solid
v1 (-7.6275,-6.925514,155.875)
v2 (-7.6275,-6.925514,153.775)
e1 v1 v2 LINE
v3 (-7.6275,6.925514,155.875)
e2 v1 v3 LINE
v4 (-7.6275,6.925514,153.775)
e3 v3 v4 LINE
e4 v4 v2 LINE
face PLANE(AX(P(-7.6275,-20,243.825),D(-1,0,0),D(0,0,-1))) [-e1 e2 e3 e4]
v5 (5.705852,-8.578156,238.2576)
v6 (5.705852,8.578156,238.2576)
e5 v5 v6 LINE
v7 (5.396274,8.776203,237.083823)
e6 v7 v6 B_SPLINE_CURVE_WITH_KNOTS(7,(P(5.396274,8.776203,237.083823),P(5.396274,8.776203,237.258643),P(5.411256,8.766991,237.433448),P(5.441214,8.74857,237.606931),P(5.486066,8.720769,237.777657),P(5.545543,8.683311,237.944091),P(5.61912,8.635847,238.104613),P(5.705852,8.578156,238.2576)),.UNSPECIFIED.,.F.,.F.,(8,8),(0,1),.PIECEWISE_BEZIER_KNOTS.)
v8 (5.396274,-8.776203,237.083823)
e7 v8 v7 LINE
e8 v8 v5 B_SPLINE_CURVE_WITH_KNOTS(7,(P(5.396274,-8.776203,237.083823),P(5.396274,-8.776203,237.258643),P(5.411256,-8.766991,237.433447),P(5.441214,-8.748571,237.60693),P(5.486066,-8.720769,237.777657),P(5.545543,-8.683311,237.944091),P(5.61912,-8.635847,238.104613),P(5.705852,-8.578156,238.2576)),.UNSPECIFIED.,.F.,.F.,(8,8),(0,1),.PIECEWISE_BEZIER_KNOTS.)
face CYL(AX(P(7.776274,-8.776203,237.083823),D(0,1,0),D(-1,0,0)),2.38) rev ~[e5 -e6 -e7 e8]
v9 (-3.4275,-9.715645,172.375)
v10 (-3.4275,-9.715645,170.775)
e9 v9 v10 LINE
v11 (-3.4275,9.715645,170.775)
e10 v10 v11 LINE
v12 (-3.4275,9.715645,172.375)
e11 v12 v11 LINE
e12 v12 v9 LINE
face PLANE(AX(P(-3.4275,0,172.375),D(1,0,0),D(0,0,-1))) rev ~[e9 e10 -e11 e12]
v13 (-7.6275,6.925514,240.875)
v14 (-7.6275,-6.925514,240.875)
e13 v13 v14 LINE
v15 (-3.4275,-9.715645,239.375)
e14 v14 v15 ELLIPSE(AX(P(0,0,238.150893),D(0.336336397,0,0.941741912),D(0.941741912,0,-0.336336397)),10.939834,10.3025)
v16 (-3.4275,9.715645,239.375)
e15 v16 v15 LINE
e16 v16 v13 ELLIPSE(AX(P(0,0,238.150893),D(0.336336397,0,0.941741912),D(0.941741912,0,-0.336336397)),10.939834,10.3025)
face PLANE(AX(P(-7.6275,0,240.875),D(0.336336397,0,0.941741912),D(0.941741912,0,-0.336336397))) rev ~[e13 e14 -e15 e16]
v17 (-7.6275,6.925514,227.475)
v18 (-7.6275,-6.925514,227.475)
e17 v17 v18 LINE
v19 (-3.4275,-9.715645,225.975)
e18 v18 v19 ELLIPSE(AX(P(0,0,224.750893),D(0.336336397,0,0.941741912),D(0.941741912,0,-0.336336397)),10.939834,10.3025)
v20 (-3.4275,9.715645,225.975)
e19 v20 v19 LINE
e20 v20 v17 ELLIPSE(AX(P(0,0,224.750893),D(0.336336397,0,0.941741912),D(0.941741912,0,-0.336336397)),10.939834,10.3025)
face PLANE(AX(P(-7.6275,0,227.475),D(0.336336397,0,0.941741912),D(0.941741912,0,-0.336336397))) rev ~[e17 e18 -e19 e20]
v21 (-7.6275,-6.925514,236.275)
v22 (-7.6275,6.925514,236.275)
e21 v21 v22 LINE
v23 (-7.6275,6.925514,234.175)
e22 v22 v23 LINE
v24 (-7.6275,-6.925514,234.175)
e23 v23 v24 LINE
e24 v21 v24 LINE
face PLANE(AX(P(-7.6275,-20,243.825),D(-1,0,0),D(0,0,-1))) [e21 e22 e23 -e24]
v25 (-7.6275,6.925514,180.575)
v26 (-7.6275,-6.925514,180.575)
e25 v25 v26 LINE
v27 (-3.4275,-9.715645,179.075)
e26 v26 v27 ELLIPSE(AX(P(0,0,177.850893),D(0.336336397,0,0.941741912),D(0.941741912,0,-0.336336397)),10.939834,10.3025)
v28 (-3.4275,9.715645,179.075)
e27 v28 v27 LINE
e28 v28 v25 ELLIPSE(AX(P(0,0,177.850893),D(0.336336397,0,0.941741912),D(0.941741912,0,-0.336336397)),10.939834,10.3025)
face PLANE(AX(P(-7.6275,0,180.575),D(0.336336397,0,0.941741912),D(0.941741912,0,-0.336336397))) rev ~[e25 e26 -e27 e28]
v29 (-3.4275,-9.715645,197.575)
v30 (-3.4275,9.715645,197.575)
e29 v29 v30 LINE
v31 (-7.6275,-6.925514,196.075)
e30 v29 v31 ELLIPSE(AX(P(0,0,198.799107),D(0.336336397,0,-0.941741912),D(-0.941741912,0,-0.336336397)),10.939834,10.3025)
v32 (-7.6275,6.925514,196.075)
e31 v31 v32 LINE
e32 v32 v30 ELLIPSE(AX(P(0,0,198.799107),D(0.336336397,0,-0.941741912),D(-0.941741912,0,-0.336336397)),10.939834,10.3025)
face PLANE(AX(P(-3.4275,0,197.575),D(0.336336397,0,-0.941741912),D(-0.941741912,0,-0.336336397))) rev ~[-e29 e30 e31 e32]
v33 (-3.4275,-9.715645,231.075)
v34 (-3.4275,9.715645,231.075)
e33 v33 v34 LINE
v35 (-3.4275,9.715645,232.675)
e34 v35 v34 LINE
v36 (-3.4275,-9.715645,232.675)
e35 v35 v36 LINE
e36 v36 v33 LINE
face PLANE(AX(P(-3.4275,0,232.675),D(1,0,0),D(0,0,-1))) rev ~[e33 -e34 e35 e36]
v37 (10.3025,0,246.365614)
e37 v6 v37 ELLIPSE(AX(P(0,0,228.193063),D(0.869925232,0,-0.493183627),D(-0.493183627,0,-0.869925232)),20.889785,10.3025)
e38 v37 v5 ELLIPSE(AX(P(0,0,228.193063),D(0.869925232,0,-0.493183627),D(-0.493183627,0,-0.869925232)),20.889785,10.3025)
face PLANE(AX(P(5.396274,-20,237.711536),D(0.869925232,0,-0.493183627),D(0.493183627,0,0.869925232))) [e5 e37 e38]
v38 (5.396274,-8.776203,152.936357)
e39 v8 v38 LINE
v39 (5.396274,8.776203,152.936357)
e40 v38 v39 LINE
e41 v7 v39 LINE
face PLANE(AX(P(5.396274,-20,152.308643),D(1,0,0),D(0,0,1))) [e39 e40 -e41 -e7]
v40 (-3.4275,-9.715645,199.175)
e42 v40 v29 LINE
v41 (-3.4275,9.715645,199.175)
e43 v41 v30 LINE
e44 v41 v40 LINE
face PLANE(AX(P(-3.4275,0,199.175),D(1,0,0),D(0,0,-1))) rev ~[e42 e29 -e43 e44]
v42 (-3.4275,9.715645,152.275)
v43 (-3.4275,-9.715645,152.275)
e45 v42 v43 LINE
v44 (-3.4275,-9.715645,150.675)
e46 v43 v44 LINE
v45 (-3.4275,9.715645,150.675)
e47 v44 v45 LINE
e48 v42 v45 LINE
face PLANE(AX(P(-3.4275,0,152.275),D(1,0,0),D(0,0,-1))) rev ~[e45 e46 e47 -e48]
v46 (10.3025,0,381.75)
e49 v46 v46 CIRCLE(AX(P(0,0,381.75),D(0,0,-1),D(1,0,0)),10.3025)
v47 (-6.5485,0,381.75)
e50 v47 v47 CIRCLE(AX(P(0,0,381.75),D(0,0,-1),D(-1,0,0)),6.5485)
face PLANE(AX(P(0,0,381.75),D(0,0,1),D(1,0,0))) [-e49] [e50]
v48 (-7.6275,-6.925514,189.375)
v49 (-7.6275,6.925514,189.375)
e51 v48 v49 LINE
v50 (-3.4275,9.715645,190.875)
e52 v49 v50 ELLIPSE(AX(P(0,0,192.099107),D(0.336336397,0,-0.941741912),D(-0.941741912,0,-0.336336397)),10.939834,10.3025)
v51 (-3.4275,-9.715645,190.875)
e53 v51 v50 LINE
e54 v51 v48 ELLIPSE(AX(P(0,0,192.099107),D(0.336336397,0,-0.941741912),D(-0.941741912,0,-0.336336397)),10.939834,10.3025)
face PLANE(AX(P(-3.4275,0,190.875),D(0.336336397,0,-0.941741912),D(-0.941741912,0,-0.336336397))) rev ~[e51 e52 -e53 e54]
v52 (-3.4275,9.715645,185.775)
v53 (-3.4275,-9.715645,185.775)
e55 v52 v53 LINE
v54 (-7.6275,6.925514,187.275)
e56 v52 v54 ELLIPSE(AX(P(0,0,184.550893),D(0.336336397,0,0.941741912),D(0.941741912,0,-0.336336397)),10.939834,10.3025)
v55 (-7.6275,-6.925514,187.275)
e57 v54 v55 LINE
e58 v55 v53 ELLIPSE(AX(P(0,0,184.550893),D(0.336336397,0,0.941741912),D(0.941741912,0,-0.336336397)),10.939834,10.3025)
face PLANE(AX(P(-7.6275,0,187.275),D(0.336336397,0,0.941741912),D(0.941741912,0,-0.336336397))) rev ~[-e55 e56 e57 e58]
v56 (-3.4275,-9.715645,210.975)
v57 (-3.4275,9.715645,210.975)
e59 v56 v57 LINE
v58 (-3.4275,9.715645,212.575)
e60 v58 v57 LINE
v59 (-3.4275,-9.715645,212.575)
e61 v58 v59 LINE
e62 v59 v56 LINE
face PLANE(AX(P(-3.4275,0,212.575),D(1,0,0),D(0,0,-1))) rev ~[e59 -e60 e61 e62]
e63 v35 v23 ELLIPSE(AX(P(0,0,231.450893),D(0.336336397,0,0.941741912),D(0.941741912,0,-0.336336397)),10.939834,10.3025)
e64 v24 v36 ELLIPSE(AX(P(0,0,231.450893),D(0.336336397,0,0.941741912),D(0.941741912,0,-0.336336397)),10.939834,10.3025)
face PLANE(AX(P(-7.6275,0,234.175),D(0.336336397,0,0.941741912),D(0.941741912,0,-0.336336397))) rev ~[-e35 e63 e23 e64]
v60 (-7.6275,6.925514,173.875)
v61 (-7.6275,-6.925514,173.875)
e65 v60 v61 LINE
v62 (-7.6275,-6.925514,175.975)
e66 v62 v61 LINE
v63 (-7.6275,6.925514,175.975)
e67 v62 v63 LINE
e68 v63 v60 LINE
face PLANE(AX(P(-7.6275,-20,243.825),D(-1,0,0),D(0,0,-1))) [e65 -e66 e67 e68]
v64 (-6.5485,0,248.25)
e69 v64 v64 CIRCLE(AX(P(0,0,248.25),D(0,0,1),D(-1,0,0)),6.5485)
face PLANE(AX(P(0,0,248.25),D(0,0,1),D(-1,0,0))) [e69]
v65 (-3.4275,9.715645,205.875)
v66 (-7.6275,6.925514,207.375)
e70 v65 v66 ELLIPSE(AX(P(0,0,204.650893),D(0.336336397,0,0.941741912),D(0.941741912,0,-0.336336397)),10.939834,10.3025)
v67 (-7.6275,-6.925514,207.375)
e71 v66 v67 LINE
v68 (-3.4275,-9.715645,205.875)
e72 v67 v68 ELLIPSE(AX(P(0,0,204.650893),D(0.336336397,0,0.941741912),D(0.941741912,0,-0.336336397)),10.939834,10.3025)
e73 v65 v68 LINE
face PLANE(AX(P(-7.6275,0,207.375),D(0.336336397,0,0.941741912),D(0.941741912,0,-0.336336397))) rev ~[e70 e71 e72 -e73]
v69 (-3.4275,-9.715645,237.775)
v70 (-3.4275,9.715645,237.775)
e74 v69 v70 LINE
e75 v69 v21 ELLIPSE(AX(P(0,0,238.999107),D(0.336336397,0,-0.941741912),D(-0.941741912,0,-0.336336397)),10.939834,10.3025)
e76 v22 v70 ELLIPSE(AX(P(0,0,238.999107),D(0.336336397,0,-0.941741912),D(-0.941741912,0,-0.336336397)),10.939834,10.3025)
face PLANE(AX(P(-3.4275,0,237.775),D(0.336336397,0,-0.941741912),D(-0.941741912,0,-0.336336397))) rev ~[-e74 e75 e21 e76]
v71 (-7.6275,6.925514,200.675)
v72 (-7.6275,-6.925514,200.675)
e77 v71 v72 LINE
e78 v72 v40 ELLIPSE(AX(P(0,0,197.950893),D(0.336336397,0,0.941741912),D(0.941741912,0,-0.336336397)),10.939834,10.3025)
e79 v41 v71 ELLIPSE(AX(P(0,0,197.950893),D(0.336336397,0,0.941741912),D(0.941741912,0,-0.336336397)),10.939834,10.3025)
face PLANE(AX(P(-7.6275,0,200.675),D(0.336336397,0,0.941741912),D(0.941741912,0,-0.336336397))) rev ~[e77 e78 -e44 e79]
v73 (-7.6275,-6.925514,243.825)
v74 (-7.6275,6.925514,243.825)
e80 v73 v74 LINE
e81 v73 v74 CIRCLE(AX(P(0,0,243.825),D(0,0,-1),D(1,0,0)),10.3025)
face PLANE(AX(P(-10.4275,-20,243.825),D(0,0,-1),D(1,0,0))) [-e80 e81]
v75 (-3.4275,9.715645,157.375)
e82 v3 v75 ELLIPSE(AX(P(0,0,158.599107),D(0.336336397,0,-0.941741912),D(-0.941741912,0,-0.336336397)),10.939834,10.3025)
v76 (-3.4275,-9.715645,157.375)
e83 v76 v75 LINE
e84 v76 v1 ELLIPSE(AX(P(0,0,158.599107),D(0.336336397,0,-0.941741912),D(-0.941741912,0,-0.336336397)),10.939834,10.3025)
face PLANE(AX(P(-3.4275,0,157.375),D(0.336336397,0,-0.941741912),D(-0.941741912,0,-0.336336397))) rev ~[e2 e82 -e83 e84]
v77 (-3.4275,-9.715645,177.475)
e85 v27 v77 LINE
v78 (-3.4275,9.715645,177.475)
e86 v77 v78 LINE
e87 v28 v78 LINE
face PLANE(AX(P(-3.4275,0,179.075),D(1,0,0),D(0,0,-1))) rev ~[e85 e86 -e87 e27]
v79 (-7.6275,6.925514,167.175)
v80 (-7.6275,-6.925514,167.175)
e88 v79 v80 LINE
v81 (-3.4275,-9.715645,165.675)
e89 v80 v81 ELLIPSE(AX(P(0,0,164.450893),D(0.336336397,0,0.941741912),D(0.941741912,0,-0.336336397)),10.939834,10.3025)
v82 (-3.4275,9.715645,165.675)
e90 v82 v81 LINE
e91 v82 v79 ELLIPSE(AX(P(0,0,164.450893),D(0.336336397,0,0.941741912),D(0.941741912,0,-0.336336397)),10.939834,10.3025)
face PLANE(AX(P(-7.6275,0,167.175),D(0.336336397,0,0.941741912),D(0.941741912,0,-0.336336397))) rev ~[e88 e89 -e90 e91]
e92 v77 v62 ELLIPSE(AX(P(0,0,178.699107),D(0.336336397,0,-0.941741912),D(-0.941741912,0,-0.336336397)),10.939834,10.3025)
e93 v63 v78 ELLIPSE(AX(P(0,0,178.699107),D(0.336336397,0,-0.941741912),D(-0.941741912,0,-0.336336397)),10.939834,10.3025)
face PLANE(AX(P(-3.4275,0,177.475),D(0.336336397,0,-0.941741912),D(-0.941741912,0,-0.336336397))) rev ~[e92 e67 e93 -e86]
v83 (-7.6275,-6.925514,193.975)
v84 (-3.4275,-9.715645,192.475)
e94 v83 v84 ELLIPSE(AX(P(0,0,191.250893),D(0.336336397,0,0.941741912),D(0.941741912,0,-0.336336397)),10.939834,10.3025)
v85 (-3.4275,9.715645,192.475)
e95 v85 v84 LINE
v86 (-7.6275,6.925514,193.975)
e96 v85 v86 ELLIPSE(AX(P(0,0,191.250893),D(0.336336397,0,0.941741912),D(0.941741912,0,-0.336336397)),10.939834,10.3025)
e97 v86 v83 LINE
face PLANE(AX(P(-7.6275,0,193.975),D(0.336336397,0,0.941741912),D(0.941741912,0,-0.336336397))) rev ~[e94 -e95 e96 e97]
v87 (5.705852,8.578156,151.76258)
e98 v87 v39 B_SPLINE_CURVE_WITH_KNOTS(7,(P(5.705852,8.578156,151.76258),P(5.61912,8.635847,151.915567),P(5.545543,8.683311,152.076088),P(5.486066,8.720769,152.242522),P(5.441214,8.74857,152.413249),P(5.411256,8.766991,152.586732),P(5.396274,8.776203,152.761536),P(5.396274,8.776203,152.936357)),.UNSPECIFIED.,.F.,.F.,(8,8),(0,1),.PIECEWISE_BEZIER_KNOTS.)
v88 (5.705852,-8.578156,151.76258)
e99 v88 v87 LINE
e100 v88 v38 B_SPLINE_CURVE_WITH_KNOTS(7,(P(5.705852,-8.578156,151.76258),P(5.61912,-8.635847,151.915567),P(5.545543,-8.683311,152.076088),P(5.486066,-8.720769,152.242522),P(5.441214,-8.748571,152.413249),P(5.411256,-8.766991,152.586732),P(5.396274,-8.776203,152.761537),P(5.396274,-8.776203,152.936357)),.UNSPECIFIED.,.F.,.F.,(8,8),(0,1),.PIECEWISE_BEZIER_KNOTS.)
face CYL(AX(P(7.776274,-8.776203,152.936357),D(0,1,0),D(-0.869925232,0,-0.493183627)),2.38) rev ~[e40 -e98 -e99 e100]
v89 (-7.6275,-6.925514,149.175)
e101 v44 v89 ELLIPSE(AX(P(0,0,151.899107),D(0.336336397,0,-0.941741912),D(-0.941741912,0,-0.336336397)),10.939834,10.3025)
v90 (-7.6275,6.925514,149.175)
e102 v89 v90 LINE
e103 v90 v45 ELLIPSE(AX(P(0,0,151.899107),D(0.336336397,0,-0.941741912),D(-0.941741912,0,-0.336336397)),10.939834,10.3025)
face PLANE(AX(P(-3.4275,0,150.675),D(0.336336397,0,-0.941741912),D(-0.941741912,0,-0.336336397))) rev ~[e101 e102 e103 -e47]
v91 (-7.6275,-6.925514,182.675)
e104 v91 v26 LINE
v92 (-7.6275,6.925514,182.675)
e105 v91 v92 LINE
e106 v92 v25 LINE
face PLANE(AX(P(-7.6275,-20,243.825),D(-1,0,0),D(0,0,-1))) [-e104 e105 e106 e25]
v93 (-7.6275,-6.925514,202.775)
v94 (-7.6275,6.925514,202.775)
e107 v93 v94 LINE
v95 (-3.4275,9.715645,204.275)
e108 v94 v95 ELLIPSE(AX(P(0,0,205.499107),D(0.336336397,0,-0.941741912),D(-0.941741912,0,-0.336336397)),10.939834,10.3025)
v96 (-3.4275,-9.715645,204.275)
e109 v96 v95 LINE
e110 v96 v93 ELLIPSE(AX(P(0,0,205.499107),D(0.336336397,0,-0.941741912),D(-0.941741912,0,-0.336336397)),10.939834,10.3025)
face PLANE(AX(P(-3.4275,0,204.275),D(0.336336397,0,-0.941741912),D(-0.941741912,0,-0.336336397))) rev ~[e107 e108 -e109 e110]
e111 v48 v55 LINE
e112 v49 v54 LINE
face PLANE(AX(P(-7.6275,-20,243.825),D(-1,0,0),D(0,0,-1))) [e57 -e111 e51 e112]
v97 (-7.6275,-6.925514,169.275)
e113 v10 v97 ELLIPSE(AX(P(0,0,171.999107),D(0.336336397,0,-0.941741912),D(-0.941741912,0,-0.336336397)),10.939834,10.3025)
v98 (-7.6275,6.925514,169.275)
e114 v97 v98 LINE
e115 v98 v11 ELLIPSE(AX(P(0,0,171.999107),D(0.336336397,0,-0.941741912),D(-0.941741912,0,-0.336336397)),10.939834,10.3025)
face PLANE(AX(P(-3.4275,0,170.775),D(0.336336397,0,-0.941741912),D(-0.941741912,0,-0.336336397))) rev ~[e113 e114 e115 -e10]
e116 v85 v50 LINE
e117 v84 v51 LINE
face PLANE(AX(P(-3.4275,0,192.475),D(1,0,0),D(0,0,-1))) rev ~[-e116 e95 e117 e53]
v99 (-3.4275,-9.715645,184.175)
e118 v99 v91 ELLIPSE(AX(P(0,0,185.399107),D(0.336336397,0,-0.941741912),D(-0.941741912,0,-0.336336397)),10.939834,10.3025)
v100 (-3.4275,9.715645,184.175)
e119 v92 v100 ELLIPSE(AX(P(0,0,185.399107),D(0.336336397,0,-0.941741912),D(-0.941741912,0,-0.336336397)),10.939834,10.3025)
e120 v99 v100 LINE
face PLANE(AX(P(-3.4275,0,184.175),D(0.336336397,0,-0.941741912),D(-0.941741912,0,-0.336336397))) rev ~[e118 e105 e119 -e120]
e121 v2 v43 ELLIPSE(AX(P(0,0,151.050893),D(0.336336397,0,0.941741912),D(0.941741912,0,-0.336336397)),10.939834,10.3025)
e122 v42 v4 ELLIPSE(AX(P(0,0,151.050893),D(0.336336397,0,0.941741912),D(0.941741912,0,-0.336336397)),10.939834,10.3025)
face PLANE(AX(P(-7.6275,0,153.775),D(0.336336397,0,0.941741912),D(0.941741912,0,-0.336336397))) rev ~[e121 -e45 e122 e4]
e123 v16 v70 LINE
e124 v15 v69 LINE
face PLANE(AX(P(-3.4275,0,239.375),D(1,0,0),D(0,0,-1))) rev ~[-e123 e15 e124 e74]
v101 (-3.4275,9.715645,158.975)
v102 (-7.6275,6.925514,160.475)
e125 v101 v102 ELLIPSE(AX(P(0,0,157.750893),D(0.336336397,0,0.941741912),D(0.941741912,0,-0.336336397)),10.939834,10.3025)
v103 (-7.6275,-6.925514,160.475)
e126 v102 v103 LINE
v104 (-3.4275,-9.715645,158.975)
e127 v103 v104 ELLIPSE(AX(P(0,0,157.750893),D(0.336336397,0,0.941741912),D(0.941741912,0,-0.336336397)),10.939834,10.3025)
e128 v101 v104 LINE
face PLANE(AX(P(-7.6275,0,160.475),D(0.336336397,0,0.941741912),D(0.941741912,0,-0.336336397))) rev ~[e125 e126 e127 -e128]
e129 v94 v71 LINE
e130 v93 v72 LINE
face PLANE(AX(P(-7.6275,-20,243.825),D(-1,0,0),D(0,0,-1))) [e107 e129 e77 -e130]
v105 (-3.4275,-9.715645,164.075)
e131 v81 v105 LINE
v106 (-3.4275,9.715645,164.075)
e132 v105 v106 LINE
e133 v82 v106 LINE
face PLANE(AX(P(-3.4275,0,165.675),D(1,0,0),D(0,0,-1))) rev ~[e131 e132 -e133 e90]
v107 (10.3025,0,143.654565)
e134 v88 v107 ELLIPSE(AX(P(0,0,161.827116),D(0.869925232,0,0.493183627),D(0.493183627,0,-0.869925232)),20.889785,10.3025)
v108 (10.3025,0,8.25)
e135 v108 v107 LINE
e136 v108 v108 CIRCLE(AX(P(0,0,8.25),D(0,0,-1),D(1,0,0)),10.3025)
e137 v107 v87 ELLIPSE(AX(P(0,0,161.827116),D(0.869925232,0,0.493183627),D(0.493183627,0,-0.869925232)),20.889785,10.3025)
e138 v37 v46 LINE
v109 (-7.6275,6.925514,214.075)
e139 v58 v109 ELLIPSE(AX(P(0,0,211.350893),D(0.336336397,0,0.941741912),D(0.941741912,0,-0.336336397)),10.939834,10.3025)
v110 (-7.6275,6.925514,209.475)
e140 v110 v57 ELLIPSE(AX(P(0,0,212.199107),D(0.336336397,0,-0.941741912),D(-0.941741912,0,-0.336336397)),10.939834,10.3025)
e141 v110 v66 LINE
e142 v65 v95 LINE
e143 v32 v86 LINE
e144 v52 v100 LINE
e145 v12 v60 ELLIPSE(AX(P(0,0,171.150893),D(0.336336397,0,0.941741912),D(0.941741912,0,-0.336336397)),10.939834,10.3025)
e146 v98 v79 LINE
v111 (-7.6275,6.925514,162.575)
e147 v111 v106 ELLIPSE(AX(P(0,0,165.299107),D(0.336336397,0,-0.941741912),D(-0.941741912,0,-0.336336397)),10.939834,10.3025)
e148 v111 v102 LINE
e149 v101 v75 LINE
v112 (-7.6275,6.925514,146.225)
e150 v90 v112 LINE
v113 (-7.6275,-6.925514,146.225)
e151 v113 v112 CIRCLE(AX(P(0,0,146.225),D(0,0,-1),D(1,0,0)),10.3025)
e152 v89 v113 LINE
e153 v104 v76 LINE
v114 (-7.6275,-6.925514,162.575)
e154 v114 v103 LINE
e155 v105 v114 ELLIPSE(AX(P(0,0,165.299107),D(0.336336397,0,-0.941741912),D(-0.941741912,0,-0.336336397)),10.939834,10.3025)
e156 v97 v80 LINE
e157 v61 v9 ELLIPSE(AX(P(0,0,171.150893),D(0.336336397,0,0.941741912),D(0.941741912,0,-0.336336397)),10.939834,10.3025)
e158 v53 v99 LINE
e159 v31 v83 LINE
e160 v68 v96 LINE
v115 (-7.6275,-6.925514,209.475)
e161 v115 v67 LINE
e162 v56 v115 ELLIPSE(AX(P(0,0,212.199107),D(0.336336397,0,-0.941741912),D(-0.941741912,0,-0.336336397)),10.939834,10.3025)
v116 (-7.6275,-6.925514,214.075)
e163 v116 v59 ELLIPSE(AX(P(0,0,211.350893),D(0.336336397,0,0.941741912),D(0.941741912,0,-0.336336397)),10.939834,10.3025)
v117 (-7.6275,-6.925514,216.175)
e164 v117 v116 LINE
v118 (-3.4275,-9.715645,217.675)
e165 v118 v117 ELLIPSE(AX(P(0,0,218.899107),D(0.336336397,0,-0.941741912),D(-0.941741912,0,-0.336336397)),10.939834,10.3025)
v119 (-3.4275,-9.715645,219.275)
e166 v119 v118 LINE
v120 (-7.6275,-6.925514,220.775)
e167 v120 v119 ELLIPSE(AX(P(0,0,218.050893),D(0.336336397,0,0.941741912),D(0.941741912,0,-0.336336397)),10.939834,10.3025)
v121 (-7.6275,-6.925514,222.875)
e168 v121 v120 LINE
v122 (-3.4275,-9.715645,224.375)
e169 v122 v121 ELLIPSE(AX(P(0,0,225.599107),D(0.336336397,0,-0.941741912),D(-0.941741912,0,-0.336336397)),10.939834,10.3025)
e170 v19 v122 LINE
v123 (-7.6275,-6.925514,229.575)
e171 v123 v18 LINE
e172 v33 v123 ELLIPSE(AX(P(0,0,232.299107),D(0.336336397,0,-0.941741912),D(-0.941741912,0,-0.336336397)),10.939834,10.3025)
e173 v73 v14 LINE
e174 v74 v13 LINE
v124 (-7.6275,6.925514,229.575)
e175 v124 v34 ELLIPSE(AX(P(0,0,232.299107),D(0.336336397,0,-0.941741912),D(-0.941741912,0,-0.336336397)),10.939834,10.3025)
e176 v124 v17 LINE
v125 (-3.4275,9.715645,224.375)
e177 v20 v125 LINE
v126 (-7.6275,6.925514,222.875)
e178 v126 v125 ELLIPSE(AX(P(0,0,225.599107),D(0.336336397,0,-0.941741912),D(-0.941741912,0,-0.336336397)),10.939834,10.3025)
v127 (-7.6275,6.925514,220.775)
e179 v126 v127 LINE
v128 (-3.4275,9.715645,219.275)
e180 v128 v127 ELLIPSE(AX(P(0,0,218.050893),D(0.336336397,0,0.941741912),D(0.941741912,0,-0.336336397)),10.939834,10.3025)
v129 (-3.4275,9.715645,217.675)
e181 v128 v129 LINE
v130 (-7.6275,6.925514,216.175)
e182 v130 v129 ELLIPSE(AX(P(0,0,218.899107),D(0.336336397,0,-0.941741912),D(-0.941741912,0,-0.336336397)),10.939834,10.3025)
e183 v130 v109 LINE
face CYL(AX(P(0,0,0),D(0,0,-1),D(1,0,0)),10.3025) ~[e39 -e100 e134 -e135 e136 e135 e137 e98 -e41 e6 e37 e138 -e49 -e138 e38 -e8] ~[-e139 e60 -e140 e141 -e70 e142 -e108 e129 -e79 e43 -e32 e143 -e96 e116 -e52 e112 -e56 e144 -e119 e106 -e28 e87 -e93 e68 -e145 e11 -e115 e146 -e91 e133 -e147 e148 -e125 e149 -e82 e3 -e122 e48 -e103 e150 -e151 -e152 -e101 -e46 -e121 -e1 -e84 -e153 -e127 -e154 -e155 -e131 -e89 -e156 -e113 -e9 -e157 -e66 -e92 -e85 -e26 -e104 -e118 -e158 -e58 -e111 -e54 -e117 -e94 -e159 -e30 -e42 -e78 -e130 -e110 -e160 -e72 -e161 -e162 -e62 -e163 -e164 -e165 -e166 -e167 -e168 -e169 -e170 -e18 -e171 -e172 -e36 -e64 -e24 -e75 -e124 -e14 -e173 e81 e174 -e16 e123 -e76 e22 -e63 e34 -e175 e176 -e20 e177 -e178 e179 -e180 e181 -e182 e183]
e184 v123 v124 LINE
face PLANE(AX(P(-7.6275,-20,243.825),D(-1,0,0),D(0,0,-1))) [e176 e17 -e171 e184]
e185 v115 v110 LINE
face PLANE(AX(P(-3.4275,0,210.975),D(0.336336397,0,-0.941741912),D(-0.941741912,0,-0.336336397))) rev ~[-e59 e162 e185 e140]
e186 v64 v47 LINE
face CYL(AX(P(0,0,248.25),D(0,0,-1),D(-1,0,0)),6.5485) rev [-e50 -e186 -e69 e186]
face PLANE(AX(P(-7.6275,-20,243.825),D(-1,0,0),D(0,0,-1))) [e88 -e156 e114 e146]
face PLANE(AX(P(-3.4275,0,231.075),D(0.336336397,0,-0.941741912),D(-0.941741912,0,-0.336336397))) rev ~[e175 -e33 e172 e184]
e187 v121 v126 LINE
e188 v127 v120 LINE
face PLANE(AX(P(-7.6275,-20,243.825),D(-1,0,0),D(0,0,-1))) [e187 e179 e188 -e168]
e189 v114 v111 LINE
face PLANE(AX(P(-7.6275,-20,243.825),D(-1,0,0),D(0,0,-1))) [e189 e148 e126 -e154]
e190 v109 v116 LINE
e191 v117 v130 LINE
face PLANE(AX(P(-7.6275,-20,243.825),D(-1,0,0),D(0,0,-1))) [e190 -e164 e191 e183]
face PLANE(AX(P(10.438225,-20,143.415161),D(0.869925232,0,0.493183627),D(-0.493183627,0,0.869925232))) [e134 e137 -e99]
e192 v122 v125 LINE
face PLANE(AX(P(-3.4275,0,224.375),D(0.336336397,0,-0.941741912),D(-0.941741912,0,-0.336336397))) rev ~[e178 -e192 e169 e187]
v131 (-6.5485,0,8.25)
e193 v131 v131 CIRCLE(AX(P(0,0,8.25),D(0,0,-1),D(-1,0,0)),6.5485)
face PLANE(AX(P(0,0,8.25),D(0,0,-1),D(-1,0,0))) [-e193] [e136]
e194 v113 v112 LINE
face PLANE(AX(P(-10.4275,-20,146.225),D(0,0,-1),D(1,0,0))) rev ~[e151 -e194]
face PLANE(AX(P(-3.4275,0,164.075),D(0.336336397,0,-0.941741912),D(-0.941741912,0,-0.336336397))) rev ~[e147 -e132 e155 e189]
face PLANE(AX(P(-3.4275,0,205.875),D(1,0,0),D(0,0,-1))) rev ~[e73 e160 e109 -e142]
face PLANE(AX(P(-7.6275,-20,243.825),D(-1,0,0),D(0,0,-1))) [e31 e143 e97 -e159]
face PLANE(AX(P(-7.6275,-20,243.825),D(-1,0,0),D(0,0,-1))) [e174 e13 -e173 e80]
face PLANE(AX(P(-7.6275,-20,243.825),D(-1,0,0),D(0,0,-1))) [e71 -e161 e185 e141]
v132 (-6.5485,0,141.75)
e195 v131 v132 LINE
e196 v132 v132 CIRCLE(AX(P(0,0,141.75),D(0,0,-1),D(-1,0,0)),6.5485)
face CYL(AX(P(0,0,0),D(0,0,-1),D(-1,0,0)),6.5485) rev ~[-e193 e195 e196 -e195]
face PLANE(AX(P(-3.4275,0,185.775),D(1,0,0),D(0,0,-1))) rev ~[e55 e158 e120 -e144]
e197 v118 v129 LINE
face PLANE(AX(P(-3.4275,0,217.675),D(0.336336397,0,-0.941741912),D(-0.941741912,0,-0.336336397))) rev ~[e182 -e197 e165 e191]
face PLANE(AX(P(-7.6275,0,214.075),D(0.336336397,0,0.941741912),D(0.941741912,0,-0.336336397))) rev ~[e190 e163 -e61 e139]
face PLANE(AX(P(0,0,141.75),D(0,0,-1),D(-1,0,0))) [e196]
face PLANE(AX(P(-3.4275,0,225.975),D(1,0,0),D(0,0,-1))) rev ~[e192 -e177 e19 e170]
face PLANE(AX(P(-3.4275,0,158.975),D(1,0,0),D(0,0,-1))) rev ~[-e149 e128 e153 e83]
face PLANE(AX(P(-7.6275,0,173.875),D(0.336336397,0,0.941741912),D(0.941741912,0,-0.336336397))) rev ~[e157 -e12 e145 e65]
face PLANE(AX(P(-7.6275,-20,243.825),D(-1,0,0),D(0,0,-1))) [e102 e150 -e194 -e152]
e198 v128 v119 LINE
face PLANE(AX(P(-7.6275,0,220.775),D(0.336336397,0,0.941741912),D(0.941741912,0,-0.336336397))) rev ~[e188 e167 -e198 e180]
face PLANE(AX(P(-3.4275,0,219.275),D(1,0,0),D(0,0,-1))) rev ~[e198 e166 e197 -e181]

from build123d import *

# Parameters (mm, degrees)
SKETCH1_R               = 10.3025
BOSS_EXTRUDE1_DEPTH     = 390
SKETCH2_R               = 6.5485
CUT_EXTRUDE1_DEPTH      = 141.75
CUT_EXTRUDE2_START      = -141.75
SKETCH3_R               = 6.5485
CUT_EXTRUDE2_DEPTH      = 141.75
CUT_EXTRUDE3_DEPTH      = 20
CUT_EXTRUDE3_DEPTH_BACK = 20
SKETCH4_W               = 2.8
SKETCH4_H               = 97.6
CUT_EXTRUDE4_DEPTH      = 20
LPATTERN1_COUNT         = 14
LPATTERN1_PITCH         = 6.7
SKETCH6_W               = 24.776384874
SKETCH6_H               = 25.11648024
CUT_EXTRUDE5_DEPTH      = 8.25
SKETCH7_W               = 32.905320966
SKETCH7_H               = 32.372251486
CUT_EXTRUDE6_DEPTH      = 8.25
FILLET2_R               = 2.38


with BuildPart() as part:
    # Sketch1 → Boss-Extrude1 (new body)
    with BuildSketch(Plane.XY):
        Circle(SKETCH1_R)
    extrude(amount=BOSS_EXTRUDE1_DEPTH)

    # Sketch2 → Cut-Extrude1 (cut)
    with BuildSketch(Plane(origin=(0, 0, 0), x_dir=(-1, 0, 0), z_dir=(0, 0, -1))):
        Circle(SKETCH2_R)
    extrude(amount=-CUT_EXTRUDE1_DEPTH, mode=Mode.SUBTRACT)

    # Sketch3 → Cut-Extrude2 (cut)
    with BuildSketch(Plane.XY.offset(390).offset(CUT_EXTRUDE2_START)):
        Circle(SKETCH3_R)
    extrude(amount=CUT_EXTRUDE2_DEPTH, mode=Mode.SUBTRACT)

    # Sketch4 → Cut-Extrude3 (cut, two sides: drawn at the far end of the back side and taken through both)
    with BuildSketch(Plane(origin=(0, 0, 0), x_dir=(1, 0, 0), z_dir=(0, 1, 0)).offset(-CUT_EXTRUDE3_DEPTH_BACK)):
        with Locations((-9.0275, -195.025)):
            Rectangle(SKETCH4_W, SKETCH4_H)
        Polygon((10.438224829, -246.605018761), (10.438224829, -143.415160631), (5.396274252, -152.308643269), (5.396274252, -237.711536124), align=None)
    extrude(amount=CUT_EXTRUDE3_DEPTH + CUT_EXTRUDE3_DEPTH_BACK, mode=Mode.SUBTRACT)

    # Sketch5 → Cut-Extrude4 (cut, symmetric)
    with BuildSketch(Plane(origin=(0, 0, 0), x_dir=(1, 0, 0), z_dir=(0, 1, 0))):
        Polygon((-3.4275, -152.275), (-3.4275, -150.675), (-7.6275, -149.175), (-7.6275, -153.775), align=None)
    cut_extrude4 = extrude(amount=CUT_EXTRUDE4_DEPTH, both=True, mode=Mode.SUBTRACT)

    # LPattern1: Cut-Extrude4 ×14
    with Locations(*[(0, 0, i * LPATTERN1_PITCH) for i in range(1, LPATTERN1_COUNT)]):
        add(cut_extrude4, mode=Mode.SUBTRACT)

    # Sketch6 → Cut-Extrude5 (cut)
    with BuildSketch(Plane.XY.offset(390)):
        Rectangle(SKETCH6_W, SKETCH6_H)
    extrude(amount=-CUT_EXTRUDE5_DEPTH, mode=Mode.SUBTRACT)

    # Sketch7 → Cut-Extrude6 (cut)
    with BuildSketch(Plane(origin=(0, 0, 0), x_dir=(-1, 0, 0), z_dir=(0, 0, -1))):
        Rectangle(SKETCH7_W, SKETCH7_H)
    extrude(amount=-CUT_EXTRUDE6_DEPTH, mode=Mode.SUBTRACT)

    # Fillet2
    fillet2_edges = [part.edges().sort_by_distance(p)[0] for p in [
        (5.396274252, 0, 237.711536124),
        (5.396274252, 0, 152.308643269),
    ]]
    fillet(fillet2_edges, radius=FILLET2_R)


solid = part.part
